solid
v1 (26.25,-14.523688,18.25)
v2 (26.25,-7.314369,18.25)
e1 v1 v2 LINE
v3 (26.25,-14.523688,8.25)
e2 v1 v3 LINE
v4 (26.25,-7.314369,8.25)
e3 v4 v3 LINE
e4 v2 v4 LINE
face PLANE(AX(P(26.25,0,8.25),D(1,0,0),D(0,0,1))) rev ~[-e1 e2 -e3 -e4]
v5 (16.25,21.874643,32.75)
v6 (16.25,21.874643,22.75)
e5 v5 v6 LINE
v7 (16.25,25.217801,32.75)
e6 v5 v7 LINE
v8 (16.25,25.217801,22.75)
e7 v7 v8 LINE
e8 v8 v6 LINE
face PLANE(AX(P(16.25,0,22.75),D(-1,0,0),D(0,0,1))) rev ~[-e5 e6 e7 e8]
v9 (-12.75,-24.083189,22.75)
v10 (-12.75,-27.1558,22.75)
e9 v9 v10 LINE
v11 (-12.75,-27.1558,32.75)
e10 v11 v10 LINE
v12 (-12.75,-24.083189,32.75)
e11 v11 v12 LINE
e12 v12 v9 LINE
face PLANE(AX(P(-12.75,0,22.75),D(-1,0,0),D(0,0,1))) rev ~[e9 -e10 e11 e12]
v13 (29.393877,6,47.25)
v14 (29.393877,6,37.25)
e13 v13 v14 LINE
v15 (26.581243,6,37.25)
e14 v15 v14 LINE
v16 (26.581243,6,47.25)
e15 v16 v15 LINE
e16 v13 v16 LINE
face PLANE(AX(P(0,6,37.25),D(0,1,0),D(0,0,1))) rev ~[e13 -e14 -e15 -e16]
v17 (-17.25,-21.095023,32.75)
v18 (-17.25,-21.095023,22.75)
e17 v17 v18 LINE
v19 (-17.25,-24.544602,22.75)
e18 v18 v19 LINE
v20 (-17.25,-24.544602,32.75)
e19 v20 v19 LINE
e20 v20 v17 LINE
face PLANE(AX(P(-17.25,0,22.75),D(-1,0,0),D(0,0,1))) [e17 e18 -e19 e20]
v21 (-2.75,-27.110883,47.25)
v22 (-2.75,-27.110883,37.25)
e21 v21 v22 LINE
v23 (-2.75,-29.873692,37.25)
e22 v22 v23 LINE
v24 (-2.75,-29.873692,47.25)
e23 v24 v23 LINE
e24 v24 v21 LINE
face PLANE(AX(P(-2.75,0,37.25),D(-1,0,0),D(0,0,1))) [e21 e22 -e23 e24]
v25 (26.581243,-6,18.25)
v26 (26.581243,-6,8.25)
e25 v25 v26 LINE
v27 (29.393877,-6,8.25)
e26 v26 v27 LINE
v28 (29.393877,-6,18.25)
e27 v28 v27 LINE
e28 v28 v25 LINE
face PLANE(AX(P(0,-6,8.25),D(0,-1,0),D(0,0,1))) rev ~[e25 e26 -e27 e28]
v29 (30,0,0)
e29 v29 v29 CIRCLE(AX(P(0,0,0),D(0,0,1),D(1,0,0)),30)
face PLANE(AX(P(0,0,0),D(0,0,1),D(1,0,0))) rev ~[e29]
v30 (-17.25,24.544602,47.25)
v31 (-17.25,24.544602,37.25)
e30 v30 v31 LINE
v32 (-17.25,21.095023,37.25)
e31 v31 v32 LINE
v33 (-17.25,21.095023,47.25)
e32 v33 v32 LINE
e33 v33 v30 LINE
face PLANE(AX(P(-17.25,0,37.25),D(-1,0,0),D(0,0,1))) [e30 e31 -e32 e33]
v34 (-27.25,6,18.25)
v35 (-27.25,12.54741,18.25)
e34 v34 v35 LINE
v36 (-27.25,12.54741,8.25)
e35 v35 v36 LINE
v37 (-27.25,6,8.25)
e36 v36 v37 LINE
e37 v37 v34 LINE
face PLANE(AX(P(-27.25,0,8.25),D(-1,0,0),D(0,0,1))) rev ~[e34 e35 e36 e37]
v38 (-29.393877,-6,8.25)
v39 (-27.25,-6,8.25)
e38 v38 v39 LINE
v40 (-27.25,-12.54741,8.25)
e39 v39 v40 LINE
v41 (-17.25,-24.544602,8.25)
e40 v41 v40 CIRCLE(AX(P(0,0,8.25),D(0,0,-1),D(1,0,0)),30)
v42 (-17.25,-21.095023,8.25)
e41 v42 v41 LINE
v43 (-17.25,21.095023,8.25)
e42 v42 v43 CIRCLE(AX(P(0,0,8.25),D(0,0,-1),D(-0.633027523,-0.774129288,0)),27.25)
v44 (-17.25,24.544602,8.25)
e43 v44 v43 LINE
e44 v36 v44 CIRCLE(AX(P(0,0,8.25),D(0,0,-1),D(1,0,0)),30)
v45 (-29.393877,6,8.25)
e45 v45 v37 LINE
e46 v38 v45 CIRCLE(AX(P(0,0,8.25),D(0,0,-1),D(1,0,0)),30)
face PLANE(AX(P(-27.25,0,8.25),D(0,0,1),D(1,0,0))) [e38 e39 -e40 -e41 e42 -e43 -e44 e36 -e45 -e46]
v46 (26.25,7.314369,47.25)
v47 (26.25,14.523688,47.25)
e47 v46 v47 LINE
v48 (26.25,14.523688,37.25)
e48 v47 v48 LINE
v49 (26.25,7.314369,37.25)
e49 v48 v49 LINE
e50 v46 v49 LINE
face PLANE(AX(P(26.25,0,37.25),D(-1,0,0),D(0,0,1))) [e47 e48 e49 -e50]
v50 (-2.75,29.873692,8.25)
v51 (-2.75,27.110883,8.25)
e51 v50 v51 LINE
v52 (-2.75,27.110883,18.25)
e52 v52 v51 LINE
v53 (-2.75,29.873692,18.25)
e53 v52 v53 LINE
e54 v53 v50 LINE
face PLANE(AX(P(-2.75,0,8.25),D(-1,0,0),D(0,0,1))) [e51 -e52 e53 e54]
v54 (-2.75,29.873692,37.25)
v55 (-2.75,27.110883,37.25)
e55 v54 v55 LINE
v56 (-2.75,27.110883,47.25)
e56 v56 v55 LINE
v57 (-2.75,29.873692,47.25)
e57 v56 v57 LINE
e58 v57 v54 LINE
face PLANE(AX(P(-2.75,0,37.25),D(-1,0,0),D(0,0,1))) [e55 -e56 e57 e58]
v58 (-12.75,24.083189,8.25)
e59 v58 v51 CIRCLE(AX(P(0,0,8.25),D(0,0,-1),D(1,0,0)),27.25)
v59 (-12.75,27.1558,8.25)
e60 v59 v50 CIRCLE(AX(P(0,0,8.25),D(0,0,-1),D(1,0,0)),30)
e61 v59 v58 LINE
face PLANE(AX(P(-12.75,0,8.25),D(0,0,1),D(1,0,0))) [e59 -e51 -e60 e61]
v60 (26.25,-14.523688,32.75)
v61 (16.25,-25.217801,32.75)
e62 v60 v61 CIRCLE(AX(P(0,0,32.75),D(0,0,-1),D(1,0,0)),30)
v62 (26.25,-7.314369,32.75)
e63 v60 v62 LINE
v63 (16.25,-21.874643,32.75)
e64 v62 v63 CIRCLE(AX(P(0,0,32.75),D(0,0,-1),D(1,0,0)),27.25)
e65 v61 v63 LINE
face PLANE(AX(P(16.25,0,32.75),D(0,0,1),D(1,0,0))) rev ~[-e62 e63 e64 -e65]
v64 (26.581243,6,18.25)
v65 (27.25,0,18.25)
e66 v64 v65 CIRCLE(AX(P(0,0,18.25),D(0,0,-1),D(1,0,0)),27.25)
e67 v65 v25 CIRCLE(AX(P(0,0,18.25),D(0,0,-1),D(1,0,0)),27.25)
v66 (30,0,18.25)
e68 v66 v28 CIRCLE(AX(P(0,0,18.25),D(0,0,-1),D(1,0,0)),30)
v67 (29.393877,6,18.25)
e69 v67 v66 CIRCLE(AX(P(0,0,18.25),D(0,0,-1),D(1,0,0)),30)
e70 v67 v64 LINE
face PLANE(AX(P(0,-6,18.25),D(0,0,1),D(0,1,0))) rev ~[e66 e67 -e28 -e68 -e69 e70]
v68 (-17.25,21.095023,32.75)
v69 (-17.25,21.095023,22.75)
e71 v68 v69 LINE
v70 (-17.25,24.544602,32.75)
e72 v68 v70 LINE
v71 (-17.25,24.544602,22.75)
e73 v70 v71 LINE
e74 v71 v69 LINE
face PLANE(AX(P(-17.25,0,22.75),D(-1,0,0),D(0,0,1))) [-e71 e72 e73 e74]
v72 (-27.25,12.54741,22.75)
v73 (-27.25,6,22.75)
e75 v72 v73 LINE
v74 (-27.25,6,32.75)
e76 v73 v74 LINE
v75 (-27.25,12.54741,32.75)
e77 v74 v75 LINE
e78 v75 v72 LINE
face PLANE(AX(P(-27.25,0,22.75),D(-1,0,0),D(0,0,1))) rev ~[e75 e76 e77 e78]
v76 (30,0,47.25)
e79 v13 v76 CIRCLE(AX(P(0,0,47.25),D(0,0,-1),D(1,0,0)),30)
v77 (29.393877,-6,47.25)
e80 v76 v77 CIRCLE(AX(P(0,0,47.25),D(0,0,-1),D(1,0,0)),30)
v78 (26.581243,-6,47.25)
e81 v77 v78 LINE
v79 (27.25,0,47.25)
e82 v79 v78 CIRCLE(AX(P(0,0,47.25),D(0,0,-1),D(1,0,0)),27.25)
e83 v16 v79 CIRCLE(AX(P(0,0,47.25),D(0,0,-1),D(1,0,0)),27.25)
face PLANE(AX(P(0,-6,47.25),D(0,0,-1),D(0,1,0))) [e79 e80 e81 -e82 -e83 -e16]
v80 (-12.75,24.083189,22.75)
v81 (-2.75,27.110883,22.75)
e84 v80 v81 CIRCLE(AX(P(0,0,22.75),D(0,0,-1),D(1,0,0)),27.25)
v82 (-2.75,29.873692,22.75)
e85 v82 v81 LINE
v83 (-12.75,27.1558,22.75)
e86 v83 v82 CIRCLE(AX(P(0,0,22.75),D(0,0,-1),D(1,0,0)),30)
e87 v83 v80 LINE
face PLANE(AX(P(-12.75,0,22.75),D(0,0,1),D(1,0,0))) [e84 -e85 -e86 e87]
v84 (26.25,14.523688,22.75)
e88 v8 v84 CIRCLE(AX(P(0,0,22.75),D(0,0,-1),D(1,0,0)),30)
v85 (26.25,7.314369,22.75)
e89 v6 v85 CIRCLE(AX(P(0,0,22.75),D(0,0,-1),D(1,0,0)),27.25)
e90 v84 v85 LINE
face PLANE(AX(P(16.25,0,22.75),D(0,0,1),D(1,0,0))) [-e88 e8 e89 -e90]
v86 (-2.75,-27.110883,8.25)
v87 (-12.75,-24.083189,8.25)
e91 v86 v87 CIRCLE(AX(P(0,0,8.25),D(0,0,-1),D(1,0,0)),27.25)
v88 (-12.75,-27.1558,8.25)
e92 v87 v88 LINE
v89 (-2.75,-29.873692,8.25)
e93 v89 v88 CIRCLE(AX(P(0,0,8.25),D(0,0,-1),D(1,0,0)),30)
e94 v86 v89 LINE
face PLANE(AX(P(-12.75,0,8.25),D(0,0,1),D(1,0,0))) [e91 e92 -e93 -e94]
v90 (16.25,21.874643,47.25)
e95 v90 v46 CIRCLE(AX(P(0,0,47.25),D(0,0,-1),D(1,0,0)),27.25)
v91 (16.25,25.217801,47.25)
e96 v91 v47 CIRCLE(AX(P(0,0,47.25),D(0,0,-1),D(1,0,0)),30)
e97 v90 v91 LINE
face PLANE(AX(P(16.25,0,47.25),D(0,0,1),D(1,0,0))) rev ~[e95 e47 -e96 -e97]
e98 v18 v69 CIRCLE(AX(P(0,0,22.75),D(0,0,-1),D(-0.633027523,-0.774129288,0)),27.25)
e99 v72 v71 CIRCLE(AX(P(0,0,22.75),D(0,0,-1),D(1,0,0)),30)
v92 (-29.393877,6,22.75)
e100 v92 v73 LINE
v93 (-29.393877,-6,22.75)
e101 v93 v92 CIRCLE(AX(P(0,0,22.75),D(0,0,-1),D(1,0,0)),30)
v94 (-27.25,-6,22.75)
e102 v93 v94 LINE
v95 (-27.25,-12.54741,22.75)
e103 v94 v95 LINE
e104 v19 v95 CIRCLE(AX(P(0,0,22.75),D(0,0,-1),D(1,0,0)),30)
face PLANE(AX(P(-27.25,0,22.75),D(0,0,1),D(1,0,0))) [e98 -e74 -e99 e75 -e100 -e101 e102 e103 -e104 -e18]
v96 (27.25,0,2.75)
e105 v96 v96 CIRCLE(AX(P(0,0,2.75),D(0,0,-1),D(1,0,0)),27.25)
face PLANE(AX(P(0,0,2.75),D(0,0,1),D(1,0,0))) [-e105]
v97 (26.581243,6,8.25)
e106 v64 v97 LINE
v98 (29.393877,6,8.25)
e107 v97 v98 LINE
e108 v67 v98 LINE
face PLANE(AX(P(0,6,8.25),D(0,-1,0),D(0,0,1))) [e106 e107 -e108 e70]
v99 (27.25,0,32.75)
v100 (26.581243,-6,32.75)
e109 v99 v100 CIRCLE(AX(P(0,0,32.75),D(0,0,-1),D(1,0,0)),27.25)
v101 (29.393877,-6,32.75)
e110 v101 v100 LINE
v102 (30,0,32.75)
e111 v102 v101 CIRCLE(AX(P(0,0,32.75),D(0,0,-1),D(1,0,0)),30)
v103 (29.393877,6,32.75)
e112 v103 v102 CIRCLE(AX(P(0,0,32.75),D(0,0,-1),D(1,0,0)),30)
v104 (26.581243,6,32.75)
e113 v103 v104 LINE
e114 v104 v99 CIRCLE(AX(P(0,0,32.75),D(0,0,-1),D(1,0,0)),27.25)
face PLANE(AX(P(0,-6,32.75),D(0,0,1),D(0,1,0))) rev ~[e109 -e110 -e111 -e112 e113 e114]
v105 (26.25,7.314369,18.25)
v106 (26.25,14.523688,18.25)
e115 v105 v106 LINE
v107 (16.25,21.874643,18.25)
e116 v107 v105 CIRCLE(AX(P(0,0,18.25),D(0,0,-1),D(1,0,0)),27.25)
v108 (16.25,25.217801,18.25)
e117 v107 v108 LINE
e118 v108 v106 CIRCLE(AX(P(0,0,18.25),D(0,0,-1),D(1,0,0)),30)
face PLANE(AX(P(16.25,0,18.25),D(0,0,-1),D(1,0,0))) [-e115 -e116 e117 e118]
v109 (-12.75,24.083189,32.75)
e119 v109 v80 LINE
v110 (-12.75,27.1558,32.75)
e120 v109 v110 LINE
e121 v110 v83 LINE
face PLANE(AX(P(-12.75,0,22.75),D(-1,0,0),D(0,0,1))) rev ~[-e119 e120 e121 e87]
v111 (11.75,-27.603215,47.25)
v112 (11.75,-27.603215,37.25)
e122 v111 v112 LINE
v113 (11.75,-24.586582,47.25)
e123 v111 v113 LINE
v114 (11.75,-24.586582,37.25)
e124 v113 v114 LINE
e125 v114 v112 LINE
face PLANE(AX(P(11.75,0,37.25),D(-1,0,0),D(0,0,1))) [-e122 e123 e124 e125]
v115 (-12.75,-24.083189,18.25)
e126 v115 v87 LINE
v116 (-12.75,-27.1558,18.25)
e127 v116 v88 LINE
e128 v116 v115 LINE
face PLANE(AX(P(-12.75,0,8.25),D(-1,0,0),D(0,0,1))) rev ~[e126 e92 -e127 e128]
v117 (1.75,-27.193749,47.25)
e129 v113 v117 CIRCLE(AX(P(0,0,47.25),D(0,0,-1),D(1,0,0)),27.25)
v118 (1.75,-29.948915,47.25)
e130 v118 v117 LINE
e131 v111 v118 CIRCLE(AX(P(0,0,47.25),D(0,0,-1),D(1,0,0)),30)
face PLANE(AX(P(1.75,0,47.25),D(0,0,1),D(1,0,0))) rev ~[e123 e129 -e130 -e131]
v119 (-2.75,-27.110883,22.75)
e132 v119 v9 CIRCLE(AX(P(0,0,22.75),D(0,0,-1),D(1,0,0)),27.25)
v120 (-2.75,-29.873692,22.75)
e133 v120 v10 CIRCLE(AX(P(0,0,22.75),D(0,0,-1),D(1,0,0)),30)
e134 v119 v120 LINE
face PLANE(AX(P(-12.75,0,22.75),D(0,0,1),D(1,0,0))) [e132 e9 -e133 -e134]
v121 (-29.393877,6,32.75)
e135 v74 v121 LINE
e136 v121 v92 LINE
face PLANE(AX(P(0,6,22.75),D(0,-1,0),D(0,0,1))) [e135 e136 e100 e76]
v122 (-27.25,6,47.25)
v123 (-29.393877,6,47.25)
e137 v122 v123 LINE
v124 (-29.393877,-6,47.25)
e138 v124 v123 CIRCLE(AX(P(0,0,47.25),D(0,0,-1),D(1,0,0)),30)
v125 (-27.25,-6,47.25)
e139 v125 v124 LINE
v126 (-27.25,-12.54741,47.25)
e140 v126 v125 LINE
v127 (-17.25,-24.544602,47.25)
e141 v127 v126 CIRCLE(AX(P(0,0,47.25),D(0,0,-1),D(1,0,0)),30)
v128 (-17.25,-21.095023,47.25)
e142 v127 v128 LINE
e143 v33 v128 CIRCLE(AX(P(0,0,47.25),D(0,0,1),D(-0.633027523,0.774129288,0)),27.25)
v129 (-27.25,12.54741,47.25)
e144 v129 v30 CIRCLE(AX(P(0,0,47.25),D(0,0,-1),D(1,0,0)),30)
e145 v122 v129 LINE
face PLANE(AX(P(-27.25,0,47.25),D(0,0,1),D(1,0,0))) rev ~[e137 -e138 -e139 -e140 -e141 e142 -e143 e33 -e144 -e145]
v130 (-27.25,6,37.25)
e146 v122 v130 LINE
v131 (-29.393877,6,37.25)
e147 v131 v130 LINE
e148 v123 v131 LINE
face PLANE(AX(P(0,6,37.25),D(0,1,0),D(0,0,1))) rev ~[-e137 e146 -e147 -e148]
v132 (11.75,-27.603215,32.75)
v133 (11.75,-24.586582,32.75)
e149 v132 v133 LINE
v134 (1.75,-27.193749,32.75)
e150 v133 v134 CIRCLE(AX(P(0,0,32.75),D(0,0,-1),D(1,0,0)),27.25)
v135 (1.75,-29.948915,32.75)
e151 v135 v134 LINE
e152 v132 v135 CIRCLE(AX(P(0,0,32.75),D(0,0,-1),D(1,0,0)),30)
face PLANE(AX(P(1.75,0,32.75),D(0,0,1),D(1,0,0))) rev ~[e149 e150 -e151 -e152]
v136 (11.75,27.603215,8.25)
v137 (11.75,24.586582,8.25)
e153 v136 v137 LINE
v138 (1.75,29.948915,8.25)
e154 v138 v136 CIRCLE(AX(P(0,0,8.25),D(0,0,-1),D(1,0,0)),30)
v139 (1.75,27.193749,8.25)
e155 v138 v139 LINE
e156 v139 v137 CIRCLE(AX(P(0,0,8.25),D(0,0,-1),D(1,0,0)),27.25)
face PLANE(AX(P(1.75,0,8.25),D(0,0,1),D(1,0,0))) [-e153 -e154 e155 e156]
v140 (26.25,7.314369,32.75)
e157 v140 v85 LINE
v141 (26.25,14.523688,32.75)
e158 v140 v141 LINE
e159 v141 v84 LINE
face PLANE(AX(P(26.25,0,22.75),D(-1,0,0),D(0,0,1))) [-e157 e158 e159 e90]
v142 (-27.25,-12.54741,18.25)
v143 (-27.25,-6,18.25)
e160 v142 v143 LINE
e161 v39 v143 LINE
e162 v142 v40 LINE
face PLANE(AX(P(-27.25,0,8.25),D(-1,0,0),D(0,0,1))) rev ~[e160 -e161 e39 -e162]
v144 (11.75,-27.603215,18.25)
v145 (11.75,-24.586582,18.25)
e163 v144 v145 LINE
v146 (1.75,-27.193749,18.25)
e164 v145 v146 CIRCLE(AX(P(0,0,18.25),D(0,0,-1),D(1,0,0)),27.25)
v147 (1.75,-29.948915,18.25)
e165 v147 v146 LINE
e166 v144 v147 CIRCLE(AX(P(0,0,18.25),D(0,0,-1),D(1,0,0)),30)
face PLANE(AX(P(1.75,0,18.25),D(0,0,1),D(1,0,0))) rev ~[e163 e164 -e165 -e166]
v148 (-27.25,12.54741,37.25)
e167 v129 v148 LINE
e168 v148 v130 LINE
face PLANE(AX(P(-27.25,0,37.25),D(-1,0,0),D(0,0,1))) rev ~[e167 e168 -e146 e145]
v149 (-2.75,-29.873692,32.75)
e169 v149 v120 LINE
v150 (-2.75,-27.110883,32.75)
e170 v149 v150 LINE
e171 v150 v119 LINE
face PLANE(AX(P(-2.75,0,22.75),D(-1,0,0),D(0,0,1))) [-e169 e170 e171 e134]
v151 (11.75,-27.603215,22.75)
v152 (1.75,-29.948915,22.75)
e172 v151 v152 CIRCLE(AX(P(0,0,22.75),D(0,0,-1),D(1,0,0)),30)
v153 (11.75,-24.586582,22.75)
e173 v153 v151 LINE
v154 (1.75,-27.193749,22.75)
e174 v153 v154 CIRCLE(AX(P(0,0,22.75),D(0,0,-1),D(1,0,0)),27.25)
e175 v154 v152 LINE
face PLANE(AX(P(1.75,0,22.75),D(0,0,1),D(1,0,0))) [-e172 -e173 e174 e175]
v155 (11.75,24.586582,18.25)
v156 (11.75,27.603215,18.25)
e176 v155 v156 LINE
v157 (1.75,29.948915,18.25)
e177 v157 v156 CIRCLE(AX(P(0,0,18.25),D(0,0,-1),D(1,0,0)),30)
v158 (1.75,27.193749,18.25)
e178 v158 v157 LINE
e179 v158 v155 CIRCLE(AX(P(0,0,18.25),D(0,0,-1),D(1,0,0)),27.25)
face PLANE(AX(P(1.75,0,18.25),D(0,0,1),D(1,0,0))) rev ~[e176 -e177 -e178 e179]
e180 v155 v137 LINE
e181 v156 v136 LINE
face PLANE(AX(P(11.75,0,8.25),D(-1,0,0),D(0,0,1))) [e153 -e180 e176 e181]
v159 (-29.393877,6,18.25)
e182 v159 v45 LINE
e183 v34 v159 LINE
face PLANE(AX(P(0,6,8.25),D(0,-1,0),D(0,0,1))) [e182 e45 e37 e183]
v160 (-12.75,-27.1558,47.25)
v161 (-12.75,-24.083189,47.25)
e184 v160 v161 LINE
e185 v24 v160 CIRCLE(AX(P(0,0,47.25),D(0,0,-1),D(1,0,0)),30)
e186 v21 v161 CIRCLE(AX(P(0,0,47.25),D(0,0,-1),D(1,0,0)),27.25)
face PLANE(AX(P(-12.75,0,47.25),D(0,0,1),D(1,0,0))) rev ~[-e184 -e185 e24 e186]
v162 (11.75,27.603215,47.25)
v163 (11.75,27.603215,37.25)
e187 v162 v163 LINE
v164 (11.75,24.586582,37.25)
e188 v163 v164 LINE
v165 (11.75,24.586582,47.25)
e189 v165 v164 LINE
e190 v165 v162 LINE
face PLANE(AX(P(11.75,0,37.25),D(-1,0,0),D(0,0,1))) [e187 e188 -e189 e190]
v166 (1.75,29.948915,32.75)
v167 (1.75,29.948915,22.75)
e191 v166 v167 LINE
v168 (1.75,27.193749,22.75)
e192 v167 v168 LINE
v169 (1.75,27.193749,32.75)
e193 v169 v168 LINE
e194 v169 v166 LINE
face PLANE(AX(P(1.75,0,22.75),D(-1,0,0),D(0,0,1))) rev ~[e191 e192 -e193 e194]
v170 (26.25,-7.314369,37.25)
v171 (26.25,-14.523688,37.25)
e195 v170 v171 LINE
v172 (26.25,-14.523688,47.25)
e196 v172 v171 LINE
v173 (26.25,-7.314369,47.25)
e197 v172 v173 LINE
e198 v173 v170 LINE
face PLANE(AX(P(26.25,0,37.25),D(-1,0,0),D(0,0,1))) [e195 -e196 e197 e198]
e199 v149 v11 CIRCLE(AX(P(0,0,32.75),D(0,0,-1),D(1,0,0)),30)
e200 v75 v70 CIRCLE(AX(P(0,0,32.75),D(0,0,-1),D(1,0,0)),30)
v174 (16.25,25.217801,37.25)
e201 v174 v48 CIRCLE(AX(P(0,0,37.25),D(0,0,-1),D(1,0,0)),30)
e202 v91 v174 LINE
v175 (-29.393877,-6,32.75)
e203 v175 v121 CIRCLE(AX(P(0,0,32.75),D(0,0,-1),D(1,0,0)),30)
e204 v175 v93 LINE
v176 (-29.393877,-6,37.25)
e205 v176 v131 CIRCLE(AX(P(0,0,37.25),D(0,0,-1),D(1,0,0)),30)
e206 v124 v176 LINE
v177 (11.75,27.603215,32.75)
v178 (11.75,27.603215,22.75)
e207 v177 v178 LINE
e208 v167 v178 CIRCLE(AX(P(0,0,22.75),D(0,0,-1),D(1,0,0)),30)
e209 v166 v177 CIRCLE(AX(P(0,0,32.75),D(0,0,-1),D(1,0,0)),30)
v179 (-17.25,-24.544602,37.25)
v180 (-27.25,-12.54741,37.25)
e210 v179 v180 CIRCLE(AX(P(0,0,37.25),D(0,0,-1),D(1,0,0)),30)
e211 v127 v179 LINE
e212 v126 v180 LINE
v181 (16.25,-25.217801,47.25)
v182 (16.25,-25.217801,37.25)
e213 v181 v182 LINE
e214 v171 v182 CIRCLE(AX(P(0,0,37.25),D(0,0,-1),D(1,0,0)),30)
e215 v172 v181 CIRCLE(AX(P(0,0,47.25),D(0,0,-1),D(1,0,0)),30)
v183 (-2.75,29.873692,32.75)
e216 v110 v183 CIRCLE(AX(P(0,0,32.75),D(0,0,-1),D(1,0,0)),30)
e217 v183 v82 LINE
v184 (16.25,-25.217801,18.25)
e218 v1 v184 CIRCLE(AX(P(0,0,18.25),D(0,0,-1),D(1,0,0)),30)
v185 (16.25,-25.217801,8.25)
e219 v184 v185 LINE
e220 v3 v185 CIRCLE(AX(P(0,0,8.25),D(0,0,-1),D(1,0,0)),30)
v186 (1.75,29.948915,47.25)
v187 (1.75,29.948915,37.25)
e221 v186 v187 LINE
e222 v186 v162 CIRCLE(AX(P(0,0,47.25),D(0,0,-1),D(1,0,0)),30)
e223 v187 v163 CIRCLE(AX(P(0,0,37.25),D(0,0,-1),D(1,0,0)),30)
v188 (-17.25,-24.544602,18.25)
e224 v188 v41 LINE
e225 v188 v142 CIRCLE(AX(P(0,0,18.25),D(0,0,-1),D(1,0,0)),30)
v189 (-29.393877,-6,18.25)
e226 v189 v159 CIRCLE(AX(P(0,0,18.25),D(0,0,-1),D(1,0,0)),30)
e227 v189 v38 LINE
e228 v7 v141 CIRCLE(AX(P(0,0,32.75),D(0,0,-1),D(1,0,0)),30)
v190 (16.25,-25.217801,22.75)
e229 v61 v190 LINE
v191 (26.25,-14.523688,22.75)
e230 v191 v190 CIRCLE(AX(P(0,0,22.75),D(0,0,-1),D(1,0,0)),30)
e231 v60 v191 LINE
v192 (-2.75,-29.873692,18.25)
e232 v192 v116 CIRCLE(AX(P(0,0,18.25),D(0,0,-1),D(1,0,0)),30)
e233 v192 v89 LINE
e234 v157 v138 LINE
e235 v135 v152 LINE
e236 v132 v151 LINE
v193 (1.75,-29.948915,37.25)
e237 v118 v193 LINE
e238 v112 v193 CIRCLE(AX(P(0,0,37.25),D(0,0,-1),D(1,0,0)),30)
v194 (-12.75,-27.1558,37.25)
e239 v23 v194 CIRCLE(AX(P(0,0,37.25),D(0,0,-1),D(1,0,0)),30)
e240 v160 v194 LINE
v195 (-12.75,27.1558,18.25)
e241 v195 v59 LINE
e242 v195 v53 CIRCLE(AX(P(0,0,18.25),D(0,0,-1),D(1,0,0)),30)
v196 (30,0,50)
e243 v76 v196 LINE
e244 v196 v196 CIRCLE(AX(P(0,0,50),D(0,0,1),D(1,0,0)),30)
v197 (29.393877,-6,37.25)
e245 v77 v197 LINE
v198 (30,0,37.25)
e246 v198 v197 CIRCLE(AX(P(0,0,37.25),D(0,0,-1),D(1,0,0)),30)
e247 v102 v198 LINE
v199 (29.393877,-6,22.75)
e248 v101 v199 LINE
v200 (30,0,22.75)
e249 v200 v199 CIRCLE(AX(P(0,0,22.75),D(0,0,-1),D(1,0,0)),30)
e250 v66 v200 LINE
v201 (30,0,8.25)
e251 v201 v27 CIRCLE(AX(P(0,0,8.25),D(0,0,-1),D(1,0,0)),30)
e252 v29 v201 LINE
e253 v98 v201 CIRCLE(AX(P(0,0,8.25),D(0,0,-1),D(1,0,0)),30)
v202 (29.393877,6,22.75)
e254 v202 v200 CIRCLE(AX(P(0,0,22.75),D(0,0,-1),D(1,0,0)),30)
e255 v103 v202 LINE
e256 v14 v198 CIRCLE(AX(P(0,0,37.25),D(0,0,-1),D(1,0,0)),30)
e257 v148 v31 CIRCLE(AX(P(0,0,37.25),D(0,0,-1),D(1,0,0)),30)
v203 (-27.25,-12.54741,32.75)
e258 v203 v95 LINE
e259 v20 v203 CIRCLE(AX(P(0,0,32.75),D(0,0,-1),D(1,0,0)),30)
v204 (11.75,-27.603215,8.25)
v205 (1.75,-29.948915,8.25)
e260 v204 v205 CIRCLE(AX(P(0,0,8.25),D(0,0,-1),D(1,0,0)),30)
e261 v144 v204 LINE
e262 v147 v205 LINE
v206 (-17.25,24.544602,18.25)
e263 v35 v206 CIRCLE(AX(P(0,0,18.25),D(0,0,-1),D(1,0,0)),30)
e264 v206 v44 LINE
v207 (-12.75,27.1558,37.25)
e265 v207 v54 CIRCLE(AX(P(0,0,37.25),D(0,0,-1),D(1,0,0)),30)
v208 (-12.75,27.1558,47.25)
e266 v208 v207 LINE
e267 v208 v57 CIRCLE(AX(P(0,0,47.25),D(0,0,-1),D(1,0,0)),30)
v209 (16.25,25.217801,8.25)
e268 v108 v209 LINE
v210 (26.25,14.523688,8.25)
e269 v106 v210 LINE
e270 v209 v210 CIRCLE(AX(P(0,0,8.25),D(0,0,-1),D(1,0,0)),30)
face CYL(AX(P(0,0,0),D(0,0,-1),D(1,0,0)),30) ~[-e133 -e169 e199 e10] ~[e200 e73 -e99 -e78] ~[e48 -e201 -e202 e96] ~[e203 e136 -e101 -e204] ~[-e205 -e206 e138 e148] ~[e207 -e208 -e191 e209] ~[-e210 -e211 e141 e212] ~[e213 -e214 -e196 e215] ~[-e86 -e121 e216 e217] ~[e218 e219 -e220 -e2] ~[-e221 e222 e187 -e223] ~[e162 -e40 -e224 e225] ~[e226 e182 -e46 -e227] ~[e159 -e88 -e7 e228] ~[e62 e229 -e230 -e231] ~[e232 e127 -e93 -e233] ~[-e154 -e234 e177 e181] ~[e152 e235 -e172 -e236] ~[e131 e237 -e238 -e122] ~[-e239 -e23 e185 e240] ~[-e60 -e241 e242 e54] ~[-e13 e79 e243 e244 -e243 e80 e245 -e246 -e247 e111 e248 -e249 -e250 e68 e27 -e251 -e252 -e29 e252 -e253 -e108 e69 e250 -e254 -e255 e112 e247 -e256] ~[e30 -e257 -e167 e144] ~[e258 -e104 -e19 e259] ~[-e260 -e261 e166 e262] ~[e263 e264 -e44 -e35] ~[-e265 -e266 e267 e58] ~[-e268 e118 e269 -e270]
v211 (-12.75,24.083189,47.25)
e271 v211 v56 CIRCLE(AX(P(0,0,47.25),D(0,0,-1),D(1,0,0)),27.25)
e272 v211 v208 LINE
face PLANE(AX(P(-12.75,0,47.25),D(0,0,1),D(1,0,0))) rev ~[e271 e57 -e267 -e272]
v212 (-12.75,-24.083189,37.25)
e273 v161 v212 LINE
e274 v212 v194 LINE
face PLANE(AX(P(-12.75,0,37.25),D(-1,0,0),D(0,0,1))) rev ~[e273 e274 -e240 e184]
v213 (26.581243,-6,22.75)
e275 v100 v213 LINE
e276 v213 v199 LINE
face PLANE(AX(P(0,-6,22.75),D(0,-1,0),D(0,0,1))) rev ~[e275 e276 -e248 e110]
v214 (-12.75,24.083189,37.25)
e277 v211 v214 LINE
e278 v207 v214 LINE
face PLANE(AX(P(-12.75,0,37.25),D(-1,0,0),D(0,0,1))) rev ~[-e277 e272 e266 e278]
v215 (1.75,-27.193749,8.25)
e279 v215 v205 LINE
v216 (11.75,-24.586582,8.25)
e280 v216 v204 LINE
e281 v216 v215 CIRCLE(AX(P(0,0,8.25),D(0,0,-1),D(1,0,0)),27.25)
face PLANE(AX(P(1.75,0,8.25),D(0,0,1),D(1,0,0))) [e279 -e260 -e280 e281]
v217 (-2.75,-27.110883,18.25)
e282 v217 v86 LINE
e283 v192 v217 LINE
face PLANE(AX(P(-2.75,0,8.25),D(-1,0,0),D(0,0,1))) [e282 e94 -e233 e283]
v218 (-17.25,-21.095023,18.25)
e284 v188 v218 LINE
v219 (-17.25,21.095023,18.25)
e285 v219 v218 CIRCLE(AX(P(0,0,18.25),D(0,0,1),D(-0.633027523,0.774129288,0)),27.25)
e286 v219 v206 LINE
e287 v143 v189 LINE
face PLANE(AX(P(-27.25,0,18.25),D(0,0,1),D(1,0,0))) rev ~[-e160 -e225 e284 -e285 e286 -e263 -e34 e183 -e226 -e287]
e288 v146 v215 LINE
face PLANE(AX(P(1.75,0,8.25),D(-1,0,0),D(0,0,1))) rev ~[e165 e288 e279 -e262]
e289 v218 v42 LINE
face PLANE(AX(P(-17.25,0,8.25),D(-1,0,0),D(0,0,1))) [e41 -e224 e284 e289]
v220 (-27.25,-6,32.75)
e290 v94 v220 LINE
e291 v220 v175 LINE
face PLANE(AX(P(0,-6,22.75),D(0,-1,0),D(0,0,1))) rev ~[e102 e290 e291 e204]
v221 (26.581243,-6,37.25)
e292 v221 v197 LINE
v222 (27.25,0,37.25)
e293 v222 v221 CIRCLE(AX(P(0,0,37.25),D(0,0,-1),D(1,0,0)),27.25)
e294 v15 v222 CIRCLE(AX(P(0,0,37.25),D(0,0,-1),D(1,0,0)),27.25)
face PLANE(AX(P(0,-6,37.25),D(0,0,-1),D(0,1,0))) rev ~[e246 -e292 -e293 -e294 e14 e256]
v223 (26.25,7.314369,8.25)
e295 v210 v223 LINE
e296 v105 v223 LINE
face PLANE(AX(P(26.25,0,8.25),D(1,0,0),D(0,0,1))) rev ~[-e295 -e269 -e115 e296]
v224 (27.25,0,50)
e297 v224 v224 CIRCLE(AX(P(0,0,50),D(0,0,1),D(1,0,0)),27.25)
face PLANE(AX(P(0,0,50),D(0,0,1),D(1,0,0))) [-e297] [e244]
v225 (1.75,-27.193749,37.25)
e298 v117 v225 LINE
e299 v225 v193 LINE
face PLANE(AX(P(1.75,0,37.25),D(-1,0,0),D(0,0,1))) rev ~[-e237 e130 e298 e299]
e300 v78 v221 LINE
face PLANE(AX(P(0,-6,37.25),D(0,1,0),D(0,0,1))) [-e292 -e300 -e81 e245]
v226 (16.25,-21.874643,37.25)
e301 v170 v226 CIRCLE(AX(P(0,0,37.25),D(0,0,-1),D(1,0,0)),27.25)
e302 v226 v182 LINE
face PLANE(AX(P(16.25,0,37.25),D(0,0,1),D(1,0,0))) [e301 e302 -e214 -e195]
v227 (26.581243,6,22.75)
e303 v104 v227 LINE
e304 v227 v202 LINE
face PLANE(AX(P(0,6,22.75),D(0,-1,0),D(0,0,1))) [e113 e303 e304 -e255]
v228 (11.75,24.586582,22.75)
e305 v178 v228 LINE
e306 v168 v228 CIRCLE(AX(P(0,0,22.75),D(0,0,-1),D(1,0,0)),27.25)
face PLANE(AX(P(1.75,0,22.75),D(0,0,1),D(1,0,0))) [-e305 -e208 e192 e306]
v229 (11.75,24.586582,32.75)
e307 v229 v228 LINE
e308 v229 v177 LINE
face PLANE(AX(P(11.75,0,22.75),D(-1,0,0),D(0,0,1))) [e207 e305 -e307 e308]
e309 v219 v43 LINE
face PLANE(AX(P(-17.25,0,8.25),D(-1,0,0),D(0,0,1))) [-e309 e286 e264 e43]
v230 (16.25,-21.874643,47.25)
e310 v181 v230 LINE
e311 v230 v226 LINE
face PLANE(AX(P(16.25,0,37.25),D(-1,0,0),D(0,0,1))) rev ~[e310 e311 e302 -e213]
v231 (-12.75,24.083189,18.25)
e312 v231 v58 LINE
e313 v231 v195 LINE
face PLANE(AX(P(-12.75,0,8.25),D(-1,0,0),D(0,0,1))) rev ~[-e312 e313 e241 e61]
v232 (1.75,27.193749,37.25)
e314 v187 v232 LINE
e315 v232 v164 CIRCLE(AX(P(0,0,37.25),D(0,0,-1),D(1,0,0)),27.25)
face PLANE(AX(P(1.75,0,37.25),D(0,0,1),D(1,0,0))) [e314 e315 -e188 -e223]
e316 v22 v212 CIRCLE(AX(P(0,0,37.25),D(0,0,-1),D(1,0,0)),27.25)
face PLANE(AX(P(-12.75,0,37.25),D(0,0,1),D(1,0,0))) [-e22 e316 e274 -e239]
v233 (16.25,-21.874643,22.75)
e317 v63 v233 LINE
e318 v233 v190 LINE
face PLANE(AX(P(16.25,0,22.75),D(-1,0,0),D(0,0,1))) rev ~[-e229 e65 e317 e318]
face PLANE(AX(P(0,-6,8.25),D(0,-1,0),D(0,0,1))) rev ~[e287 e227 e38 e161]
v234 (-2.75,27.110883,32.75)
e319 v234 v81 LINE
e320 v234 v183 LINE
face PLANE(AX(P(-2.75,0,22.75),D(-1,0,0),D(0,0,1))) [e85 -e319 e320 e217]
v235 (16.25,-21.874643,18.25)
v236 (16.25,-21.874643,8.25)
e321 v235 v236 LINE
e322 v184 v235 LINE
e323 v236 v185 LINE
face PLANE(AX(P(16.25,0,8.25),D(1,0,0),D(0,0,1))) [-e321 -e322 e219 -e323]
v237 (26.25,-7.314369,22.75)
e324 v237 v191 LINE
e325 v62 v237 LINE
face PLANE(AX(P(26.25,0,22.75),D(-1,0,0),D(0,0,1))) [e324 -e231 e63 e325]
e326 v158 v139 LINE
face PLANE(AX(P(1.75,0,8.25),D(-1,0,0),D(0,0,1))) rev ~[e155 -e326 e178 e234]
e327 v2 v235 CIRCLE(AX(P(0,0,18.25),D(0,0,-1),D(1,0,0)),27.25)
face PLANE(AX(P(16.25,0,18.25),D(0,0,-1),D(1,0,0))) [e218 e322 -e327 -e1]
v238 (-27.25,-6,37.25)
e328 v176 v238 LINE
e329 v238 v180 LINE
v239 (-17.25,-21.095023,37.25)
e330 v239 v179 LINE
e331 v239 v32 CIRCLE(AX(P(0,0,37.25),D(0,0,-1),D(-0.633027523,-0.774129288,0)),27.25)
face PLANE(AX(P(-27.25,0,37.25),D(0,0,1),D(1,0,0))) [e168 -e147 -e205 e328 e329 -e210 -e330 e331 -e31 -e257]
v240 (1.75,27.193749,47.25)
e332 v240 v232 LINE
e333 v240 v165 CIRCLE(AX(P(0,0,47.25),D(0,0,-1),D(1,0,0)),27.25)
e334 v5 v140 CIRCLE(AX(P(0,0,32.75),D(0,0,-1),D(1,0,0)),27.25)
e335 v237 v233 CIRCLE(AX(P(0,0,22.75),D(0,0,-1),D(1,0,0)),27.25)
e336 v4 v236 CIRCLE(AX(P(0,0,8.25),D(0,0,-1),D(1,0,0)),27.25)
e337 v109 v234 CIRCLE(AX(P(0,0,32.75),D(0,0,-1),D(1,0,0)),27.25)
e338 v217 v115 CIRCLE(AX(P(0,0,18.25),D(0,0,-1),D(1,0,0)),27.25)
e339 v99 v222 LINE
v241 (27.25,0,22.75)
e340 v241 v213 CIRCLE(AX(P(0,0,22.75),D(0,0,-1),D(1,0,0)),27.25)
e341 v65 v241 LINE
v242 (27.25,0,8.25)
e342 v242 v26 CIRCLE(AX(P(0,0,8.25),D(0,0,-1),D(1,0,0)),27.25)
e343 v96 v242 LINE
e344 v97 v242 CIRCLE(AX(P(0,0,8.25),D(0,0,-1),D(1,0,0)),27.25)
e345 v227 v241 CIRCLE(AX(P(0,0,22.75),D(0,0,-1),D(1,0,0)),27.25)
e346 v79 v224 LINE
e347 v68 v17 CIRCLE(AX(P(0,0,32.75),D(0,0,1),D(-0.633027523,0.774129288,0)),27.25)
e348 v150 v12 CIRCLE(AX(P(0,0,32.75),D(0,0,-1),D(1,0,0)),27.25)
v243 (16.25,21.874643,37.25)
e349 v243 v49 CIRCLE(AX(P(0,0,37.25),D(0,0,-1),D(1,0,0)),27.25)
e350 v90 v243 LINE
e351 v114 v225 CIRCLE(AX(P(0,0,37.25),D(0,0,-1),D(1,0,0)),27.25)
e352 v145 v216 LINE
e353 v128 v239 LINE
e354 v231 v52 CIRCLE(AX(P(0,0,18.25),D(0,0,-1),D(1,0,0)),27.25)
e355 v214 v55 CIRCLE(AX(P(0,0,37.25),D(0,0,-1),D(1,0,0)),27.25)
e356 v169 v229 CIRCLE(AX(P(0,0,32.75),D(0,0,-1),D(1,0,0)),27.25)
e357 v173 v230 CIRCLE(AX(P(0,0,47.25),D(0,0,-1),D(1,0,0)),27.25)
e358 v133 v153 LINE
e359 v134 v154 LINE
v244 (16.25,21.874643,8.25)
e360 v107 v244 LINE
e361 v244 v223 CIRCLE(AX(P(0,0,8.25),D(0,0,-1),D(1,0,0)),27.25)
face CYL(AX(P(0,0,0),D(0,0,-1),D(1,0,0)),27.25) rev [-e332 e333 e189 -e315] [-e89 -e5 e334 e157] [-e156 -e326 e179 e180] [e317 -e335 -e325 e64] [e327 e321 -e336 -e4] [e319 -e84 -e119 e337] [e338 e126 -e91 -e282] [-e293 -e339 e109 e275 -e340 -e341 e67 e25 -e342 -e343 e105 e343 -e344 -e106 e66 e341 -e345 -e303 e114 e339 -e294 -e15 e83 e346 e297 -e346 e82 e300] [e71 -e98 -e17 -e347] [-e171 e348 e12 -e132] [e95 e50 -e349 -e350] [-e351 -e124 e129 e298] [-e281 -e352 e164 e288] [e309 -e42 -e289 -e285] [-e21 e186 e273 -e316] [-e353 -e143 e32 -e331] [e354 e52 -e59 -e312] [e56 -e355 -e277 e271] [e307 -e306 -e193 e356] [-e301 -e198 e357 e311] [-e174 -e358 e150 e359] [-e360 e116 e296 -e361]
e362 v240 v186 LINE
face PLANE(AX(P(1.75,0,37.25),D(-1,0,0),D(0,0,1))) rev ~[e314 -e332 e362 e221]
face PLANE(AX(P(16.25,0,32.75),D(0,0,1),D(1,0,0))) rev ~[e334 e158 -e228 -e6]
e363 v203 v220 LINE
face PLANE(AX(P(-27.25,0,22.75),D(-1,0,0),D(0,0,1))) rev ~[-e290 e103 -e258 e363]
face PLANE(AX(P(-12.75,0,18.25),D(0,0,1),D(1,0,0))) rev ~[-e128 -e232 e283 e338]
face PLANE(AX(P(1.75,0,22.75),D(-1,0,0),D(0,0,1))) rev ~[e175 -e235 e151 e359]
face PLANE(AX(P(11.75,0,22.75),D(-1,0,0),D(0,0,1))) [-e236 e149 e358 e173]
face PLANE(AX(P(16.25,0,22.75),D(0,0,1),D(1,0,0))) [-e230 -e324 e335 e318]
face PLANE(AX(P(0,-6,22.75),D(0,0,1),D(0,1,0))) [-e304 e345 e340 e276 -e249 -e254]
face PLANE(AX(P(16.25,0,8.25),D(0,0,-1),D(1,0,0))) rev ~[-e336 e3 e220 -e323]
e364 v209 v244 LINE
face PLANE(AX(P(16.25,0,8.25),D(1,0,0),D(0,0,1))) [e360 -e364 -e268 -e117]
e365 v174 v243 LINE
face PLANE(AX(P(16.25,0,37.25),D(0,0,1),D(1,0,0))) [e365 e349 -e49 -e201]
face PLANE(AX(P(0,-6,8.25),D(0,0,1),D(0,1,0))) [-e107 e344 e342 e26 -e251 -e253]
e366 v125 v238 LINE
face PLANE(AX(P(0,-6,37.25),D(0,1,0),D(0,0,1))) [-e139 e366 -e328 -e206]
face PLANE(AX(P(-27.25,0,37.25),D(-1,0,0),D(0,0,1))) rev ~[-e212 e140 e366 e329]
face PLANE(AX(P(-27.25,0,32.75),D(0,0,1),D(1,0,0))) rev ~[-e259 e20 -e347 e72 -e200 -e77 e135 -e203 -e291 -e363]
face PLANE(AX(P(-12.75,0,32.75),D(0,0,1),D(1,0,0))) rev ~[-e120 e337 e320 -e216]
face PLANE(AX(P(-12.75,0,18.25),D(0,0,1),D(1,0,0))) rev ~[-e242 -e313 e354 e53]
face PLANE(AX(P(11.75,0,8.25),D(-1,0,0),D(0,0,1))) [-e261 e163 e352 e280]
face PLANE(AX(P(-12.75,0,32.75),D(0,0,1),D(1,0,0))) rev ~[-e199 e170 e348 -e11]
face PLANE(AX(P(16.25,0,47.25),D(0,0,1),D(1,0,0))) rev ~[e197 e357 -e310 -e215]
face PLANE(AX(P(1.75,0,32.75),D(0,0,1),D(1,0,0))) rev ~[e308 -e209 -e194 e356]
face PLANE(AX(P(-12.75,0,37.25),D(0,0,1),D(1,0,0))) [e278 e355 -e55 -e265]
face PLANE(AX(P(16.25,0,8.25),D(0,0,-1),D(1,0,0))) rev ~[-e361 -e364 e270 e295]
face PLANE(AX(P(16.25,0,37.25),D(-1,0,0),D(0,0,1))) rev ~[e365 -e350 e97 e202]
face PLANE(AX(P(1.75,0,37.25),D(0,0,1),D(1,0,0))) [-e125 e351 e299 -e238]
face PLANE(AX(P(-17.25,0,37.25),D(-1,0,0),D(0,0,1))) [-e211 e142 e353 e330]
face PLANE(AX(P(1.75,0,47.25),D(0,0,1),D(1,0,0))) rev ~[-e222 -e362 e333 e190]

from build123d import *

# Parameters (mm, degrees)
F0_R     = 30
F1_DEPTH = 50
F2_T     = -2.75
F3_W     = 10
F3_H     = 10
F4_DEPTH = 30
F5_W     = 12
F5_H     = 10
F6_DEPTH = 50


with BuildPart() as f1:
    # F0 (on Top) → F1 (new body)
    with BuildSketch(Plane.XY):
        Circle(F0_R)
    extrude(amount=F1_DEPTH)

    # F2
    f2_openings = [f1.faces().sort_by_distance(p)[0] for p in [
        (0, 0, 50),
    ]]
    offset(amount=F2_T, openings=f2_openings)

    # F3 (on Front) → F4 (cut, symmetric)
    with BuildSketch(Plane.XZ):
        with Locations((-22.25, 42.25)):
            Rectangle(F3_W, F3_H)
        with Locations((-22.25, 27.75)):
            Rectangle(F3_W, F3_H)
        with Locations((-22.25, 13.25)):
            Rectangle(F3_W, F3_H)
        with Locations((-7.75, 42.25)):
            Rectangle(F3_W, F3_H)
        with Locations((-7.75, 27.75)):
            Rectangle(F3_W, F3_H)
        with Locations((-7.75, 13.25)):
            Rectangle(F3_W, F3_H)
        with Locations((6.75, 42.25)):
            Rectangle(F3_W, F3_H)
        with Locations((6.75, 27.75)):
            Rectangle(F3_W, F3_H)
        with Locations((6.75, 13.25)):
            Rectangle(F3_W, F3_H)
        with Locations((21.25, 42.25)):
            Rectangle(F3_W, F3_H)
        with Locations((21.25, 27.75)):
            Rectangle(F3_W, F3_H)
        with Locations((21.25, 13.25)):
            Rectangle(F3_W, F3_H)
    extrude(amount=F4_DEPTH, both=True, mode=Mode.SUBTRACT)

    # F5 (on Right) → F6 (cut, symmetric)
    with BuildSketch(Plane.YZ):
        with Locations((0, 13.25)):
            Rectangle(F5_W, F5_H)
        with Locations((0, 27.75)):
            Rectangle(F5_W, F5_H)
        with Locations((0, 42.25)):
            Rectangle(F5_W, F5_H)
    extrude(amount=F6_DEPTH, both=True, mode=Mode.SUBTRACT)


solid = f1.part
